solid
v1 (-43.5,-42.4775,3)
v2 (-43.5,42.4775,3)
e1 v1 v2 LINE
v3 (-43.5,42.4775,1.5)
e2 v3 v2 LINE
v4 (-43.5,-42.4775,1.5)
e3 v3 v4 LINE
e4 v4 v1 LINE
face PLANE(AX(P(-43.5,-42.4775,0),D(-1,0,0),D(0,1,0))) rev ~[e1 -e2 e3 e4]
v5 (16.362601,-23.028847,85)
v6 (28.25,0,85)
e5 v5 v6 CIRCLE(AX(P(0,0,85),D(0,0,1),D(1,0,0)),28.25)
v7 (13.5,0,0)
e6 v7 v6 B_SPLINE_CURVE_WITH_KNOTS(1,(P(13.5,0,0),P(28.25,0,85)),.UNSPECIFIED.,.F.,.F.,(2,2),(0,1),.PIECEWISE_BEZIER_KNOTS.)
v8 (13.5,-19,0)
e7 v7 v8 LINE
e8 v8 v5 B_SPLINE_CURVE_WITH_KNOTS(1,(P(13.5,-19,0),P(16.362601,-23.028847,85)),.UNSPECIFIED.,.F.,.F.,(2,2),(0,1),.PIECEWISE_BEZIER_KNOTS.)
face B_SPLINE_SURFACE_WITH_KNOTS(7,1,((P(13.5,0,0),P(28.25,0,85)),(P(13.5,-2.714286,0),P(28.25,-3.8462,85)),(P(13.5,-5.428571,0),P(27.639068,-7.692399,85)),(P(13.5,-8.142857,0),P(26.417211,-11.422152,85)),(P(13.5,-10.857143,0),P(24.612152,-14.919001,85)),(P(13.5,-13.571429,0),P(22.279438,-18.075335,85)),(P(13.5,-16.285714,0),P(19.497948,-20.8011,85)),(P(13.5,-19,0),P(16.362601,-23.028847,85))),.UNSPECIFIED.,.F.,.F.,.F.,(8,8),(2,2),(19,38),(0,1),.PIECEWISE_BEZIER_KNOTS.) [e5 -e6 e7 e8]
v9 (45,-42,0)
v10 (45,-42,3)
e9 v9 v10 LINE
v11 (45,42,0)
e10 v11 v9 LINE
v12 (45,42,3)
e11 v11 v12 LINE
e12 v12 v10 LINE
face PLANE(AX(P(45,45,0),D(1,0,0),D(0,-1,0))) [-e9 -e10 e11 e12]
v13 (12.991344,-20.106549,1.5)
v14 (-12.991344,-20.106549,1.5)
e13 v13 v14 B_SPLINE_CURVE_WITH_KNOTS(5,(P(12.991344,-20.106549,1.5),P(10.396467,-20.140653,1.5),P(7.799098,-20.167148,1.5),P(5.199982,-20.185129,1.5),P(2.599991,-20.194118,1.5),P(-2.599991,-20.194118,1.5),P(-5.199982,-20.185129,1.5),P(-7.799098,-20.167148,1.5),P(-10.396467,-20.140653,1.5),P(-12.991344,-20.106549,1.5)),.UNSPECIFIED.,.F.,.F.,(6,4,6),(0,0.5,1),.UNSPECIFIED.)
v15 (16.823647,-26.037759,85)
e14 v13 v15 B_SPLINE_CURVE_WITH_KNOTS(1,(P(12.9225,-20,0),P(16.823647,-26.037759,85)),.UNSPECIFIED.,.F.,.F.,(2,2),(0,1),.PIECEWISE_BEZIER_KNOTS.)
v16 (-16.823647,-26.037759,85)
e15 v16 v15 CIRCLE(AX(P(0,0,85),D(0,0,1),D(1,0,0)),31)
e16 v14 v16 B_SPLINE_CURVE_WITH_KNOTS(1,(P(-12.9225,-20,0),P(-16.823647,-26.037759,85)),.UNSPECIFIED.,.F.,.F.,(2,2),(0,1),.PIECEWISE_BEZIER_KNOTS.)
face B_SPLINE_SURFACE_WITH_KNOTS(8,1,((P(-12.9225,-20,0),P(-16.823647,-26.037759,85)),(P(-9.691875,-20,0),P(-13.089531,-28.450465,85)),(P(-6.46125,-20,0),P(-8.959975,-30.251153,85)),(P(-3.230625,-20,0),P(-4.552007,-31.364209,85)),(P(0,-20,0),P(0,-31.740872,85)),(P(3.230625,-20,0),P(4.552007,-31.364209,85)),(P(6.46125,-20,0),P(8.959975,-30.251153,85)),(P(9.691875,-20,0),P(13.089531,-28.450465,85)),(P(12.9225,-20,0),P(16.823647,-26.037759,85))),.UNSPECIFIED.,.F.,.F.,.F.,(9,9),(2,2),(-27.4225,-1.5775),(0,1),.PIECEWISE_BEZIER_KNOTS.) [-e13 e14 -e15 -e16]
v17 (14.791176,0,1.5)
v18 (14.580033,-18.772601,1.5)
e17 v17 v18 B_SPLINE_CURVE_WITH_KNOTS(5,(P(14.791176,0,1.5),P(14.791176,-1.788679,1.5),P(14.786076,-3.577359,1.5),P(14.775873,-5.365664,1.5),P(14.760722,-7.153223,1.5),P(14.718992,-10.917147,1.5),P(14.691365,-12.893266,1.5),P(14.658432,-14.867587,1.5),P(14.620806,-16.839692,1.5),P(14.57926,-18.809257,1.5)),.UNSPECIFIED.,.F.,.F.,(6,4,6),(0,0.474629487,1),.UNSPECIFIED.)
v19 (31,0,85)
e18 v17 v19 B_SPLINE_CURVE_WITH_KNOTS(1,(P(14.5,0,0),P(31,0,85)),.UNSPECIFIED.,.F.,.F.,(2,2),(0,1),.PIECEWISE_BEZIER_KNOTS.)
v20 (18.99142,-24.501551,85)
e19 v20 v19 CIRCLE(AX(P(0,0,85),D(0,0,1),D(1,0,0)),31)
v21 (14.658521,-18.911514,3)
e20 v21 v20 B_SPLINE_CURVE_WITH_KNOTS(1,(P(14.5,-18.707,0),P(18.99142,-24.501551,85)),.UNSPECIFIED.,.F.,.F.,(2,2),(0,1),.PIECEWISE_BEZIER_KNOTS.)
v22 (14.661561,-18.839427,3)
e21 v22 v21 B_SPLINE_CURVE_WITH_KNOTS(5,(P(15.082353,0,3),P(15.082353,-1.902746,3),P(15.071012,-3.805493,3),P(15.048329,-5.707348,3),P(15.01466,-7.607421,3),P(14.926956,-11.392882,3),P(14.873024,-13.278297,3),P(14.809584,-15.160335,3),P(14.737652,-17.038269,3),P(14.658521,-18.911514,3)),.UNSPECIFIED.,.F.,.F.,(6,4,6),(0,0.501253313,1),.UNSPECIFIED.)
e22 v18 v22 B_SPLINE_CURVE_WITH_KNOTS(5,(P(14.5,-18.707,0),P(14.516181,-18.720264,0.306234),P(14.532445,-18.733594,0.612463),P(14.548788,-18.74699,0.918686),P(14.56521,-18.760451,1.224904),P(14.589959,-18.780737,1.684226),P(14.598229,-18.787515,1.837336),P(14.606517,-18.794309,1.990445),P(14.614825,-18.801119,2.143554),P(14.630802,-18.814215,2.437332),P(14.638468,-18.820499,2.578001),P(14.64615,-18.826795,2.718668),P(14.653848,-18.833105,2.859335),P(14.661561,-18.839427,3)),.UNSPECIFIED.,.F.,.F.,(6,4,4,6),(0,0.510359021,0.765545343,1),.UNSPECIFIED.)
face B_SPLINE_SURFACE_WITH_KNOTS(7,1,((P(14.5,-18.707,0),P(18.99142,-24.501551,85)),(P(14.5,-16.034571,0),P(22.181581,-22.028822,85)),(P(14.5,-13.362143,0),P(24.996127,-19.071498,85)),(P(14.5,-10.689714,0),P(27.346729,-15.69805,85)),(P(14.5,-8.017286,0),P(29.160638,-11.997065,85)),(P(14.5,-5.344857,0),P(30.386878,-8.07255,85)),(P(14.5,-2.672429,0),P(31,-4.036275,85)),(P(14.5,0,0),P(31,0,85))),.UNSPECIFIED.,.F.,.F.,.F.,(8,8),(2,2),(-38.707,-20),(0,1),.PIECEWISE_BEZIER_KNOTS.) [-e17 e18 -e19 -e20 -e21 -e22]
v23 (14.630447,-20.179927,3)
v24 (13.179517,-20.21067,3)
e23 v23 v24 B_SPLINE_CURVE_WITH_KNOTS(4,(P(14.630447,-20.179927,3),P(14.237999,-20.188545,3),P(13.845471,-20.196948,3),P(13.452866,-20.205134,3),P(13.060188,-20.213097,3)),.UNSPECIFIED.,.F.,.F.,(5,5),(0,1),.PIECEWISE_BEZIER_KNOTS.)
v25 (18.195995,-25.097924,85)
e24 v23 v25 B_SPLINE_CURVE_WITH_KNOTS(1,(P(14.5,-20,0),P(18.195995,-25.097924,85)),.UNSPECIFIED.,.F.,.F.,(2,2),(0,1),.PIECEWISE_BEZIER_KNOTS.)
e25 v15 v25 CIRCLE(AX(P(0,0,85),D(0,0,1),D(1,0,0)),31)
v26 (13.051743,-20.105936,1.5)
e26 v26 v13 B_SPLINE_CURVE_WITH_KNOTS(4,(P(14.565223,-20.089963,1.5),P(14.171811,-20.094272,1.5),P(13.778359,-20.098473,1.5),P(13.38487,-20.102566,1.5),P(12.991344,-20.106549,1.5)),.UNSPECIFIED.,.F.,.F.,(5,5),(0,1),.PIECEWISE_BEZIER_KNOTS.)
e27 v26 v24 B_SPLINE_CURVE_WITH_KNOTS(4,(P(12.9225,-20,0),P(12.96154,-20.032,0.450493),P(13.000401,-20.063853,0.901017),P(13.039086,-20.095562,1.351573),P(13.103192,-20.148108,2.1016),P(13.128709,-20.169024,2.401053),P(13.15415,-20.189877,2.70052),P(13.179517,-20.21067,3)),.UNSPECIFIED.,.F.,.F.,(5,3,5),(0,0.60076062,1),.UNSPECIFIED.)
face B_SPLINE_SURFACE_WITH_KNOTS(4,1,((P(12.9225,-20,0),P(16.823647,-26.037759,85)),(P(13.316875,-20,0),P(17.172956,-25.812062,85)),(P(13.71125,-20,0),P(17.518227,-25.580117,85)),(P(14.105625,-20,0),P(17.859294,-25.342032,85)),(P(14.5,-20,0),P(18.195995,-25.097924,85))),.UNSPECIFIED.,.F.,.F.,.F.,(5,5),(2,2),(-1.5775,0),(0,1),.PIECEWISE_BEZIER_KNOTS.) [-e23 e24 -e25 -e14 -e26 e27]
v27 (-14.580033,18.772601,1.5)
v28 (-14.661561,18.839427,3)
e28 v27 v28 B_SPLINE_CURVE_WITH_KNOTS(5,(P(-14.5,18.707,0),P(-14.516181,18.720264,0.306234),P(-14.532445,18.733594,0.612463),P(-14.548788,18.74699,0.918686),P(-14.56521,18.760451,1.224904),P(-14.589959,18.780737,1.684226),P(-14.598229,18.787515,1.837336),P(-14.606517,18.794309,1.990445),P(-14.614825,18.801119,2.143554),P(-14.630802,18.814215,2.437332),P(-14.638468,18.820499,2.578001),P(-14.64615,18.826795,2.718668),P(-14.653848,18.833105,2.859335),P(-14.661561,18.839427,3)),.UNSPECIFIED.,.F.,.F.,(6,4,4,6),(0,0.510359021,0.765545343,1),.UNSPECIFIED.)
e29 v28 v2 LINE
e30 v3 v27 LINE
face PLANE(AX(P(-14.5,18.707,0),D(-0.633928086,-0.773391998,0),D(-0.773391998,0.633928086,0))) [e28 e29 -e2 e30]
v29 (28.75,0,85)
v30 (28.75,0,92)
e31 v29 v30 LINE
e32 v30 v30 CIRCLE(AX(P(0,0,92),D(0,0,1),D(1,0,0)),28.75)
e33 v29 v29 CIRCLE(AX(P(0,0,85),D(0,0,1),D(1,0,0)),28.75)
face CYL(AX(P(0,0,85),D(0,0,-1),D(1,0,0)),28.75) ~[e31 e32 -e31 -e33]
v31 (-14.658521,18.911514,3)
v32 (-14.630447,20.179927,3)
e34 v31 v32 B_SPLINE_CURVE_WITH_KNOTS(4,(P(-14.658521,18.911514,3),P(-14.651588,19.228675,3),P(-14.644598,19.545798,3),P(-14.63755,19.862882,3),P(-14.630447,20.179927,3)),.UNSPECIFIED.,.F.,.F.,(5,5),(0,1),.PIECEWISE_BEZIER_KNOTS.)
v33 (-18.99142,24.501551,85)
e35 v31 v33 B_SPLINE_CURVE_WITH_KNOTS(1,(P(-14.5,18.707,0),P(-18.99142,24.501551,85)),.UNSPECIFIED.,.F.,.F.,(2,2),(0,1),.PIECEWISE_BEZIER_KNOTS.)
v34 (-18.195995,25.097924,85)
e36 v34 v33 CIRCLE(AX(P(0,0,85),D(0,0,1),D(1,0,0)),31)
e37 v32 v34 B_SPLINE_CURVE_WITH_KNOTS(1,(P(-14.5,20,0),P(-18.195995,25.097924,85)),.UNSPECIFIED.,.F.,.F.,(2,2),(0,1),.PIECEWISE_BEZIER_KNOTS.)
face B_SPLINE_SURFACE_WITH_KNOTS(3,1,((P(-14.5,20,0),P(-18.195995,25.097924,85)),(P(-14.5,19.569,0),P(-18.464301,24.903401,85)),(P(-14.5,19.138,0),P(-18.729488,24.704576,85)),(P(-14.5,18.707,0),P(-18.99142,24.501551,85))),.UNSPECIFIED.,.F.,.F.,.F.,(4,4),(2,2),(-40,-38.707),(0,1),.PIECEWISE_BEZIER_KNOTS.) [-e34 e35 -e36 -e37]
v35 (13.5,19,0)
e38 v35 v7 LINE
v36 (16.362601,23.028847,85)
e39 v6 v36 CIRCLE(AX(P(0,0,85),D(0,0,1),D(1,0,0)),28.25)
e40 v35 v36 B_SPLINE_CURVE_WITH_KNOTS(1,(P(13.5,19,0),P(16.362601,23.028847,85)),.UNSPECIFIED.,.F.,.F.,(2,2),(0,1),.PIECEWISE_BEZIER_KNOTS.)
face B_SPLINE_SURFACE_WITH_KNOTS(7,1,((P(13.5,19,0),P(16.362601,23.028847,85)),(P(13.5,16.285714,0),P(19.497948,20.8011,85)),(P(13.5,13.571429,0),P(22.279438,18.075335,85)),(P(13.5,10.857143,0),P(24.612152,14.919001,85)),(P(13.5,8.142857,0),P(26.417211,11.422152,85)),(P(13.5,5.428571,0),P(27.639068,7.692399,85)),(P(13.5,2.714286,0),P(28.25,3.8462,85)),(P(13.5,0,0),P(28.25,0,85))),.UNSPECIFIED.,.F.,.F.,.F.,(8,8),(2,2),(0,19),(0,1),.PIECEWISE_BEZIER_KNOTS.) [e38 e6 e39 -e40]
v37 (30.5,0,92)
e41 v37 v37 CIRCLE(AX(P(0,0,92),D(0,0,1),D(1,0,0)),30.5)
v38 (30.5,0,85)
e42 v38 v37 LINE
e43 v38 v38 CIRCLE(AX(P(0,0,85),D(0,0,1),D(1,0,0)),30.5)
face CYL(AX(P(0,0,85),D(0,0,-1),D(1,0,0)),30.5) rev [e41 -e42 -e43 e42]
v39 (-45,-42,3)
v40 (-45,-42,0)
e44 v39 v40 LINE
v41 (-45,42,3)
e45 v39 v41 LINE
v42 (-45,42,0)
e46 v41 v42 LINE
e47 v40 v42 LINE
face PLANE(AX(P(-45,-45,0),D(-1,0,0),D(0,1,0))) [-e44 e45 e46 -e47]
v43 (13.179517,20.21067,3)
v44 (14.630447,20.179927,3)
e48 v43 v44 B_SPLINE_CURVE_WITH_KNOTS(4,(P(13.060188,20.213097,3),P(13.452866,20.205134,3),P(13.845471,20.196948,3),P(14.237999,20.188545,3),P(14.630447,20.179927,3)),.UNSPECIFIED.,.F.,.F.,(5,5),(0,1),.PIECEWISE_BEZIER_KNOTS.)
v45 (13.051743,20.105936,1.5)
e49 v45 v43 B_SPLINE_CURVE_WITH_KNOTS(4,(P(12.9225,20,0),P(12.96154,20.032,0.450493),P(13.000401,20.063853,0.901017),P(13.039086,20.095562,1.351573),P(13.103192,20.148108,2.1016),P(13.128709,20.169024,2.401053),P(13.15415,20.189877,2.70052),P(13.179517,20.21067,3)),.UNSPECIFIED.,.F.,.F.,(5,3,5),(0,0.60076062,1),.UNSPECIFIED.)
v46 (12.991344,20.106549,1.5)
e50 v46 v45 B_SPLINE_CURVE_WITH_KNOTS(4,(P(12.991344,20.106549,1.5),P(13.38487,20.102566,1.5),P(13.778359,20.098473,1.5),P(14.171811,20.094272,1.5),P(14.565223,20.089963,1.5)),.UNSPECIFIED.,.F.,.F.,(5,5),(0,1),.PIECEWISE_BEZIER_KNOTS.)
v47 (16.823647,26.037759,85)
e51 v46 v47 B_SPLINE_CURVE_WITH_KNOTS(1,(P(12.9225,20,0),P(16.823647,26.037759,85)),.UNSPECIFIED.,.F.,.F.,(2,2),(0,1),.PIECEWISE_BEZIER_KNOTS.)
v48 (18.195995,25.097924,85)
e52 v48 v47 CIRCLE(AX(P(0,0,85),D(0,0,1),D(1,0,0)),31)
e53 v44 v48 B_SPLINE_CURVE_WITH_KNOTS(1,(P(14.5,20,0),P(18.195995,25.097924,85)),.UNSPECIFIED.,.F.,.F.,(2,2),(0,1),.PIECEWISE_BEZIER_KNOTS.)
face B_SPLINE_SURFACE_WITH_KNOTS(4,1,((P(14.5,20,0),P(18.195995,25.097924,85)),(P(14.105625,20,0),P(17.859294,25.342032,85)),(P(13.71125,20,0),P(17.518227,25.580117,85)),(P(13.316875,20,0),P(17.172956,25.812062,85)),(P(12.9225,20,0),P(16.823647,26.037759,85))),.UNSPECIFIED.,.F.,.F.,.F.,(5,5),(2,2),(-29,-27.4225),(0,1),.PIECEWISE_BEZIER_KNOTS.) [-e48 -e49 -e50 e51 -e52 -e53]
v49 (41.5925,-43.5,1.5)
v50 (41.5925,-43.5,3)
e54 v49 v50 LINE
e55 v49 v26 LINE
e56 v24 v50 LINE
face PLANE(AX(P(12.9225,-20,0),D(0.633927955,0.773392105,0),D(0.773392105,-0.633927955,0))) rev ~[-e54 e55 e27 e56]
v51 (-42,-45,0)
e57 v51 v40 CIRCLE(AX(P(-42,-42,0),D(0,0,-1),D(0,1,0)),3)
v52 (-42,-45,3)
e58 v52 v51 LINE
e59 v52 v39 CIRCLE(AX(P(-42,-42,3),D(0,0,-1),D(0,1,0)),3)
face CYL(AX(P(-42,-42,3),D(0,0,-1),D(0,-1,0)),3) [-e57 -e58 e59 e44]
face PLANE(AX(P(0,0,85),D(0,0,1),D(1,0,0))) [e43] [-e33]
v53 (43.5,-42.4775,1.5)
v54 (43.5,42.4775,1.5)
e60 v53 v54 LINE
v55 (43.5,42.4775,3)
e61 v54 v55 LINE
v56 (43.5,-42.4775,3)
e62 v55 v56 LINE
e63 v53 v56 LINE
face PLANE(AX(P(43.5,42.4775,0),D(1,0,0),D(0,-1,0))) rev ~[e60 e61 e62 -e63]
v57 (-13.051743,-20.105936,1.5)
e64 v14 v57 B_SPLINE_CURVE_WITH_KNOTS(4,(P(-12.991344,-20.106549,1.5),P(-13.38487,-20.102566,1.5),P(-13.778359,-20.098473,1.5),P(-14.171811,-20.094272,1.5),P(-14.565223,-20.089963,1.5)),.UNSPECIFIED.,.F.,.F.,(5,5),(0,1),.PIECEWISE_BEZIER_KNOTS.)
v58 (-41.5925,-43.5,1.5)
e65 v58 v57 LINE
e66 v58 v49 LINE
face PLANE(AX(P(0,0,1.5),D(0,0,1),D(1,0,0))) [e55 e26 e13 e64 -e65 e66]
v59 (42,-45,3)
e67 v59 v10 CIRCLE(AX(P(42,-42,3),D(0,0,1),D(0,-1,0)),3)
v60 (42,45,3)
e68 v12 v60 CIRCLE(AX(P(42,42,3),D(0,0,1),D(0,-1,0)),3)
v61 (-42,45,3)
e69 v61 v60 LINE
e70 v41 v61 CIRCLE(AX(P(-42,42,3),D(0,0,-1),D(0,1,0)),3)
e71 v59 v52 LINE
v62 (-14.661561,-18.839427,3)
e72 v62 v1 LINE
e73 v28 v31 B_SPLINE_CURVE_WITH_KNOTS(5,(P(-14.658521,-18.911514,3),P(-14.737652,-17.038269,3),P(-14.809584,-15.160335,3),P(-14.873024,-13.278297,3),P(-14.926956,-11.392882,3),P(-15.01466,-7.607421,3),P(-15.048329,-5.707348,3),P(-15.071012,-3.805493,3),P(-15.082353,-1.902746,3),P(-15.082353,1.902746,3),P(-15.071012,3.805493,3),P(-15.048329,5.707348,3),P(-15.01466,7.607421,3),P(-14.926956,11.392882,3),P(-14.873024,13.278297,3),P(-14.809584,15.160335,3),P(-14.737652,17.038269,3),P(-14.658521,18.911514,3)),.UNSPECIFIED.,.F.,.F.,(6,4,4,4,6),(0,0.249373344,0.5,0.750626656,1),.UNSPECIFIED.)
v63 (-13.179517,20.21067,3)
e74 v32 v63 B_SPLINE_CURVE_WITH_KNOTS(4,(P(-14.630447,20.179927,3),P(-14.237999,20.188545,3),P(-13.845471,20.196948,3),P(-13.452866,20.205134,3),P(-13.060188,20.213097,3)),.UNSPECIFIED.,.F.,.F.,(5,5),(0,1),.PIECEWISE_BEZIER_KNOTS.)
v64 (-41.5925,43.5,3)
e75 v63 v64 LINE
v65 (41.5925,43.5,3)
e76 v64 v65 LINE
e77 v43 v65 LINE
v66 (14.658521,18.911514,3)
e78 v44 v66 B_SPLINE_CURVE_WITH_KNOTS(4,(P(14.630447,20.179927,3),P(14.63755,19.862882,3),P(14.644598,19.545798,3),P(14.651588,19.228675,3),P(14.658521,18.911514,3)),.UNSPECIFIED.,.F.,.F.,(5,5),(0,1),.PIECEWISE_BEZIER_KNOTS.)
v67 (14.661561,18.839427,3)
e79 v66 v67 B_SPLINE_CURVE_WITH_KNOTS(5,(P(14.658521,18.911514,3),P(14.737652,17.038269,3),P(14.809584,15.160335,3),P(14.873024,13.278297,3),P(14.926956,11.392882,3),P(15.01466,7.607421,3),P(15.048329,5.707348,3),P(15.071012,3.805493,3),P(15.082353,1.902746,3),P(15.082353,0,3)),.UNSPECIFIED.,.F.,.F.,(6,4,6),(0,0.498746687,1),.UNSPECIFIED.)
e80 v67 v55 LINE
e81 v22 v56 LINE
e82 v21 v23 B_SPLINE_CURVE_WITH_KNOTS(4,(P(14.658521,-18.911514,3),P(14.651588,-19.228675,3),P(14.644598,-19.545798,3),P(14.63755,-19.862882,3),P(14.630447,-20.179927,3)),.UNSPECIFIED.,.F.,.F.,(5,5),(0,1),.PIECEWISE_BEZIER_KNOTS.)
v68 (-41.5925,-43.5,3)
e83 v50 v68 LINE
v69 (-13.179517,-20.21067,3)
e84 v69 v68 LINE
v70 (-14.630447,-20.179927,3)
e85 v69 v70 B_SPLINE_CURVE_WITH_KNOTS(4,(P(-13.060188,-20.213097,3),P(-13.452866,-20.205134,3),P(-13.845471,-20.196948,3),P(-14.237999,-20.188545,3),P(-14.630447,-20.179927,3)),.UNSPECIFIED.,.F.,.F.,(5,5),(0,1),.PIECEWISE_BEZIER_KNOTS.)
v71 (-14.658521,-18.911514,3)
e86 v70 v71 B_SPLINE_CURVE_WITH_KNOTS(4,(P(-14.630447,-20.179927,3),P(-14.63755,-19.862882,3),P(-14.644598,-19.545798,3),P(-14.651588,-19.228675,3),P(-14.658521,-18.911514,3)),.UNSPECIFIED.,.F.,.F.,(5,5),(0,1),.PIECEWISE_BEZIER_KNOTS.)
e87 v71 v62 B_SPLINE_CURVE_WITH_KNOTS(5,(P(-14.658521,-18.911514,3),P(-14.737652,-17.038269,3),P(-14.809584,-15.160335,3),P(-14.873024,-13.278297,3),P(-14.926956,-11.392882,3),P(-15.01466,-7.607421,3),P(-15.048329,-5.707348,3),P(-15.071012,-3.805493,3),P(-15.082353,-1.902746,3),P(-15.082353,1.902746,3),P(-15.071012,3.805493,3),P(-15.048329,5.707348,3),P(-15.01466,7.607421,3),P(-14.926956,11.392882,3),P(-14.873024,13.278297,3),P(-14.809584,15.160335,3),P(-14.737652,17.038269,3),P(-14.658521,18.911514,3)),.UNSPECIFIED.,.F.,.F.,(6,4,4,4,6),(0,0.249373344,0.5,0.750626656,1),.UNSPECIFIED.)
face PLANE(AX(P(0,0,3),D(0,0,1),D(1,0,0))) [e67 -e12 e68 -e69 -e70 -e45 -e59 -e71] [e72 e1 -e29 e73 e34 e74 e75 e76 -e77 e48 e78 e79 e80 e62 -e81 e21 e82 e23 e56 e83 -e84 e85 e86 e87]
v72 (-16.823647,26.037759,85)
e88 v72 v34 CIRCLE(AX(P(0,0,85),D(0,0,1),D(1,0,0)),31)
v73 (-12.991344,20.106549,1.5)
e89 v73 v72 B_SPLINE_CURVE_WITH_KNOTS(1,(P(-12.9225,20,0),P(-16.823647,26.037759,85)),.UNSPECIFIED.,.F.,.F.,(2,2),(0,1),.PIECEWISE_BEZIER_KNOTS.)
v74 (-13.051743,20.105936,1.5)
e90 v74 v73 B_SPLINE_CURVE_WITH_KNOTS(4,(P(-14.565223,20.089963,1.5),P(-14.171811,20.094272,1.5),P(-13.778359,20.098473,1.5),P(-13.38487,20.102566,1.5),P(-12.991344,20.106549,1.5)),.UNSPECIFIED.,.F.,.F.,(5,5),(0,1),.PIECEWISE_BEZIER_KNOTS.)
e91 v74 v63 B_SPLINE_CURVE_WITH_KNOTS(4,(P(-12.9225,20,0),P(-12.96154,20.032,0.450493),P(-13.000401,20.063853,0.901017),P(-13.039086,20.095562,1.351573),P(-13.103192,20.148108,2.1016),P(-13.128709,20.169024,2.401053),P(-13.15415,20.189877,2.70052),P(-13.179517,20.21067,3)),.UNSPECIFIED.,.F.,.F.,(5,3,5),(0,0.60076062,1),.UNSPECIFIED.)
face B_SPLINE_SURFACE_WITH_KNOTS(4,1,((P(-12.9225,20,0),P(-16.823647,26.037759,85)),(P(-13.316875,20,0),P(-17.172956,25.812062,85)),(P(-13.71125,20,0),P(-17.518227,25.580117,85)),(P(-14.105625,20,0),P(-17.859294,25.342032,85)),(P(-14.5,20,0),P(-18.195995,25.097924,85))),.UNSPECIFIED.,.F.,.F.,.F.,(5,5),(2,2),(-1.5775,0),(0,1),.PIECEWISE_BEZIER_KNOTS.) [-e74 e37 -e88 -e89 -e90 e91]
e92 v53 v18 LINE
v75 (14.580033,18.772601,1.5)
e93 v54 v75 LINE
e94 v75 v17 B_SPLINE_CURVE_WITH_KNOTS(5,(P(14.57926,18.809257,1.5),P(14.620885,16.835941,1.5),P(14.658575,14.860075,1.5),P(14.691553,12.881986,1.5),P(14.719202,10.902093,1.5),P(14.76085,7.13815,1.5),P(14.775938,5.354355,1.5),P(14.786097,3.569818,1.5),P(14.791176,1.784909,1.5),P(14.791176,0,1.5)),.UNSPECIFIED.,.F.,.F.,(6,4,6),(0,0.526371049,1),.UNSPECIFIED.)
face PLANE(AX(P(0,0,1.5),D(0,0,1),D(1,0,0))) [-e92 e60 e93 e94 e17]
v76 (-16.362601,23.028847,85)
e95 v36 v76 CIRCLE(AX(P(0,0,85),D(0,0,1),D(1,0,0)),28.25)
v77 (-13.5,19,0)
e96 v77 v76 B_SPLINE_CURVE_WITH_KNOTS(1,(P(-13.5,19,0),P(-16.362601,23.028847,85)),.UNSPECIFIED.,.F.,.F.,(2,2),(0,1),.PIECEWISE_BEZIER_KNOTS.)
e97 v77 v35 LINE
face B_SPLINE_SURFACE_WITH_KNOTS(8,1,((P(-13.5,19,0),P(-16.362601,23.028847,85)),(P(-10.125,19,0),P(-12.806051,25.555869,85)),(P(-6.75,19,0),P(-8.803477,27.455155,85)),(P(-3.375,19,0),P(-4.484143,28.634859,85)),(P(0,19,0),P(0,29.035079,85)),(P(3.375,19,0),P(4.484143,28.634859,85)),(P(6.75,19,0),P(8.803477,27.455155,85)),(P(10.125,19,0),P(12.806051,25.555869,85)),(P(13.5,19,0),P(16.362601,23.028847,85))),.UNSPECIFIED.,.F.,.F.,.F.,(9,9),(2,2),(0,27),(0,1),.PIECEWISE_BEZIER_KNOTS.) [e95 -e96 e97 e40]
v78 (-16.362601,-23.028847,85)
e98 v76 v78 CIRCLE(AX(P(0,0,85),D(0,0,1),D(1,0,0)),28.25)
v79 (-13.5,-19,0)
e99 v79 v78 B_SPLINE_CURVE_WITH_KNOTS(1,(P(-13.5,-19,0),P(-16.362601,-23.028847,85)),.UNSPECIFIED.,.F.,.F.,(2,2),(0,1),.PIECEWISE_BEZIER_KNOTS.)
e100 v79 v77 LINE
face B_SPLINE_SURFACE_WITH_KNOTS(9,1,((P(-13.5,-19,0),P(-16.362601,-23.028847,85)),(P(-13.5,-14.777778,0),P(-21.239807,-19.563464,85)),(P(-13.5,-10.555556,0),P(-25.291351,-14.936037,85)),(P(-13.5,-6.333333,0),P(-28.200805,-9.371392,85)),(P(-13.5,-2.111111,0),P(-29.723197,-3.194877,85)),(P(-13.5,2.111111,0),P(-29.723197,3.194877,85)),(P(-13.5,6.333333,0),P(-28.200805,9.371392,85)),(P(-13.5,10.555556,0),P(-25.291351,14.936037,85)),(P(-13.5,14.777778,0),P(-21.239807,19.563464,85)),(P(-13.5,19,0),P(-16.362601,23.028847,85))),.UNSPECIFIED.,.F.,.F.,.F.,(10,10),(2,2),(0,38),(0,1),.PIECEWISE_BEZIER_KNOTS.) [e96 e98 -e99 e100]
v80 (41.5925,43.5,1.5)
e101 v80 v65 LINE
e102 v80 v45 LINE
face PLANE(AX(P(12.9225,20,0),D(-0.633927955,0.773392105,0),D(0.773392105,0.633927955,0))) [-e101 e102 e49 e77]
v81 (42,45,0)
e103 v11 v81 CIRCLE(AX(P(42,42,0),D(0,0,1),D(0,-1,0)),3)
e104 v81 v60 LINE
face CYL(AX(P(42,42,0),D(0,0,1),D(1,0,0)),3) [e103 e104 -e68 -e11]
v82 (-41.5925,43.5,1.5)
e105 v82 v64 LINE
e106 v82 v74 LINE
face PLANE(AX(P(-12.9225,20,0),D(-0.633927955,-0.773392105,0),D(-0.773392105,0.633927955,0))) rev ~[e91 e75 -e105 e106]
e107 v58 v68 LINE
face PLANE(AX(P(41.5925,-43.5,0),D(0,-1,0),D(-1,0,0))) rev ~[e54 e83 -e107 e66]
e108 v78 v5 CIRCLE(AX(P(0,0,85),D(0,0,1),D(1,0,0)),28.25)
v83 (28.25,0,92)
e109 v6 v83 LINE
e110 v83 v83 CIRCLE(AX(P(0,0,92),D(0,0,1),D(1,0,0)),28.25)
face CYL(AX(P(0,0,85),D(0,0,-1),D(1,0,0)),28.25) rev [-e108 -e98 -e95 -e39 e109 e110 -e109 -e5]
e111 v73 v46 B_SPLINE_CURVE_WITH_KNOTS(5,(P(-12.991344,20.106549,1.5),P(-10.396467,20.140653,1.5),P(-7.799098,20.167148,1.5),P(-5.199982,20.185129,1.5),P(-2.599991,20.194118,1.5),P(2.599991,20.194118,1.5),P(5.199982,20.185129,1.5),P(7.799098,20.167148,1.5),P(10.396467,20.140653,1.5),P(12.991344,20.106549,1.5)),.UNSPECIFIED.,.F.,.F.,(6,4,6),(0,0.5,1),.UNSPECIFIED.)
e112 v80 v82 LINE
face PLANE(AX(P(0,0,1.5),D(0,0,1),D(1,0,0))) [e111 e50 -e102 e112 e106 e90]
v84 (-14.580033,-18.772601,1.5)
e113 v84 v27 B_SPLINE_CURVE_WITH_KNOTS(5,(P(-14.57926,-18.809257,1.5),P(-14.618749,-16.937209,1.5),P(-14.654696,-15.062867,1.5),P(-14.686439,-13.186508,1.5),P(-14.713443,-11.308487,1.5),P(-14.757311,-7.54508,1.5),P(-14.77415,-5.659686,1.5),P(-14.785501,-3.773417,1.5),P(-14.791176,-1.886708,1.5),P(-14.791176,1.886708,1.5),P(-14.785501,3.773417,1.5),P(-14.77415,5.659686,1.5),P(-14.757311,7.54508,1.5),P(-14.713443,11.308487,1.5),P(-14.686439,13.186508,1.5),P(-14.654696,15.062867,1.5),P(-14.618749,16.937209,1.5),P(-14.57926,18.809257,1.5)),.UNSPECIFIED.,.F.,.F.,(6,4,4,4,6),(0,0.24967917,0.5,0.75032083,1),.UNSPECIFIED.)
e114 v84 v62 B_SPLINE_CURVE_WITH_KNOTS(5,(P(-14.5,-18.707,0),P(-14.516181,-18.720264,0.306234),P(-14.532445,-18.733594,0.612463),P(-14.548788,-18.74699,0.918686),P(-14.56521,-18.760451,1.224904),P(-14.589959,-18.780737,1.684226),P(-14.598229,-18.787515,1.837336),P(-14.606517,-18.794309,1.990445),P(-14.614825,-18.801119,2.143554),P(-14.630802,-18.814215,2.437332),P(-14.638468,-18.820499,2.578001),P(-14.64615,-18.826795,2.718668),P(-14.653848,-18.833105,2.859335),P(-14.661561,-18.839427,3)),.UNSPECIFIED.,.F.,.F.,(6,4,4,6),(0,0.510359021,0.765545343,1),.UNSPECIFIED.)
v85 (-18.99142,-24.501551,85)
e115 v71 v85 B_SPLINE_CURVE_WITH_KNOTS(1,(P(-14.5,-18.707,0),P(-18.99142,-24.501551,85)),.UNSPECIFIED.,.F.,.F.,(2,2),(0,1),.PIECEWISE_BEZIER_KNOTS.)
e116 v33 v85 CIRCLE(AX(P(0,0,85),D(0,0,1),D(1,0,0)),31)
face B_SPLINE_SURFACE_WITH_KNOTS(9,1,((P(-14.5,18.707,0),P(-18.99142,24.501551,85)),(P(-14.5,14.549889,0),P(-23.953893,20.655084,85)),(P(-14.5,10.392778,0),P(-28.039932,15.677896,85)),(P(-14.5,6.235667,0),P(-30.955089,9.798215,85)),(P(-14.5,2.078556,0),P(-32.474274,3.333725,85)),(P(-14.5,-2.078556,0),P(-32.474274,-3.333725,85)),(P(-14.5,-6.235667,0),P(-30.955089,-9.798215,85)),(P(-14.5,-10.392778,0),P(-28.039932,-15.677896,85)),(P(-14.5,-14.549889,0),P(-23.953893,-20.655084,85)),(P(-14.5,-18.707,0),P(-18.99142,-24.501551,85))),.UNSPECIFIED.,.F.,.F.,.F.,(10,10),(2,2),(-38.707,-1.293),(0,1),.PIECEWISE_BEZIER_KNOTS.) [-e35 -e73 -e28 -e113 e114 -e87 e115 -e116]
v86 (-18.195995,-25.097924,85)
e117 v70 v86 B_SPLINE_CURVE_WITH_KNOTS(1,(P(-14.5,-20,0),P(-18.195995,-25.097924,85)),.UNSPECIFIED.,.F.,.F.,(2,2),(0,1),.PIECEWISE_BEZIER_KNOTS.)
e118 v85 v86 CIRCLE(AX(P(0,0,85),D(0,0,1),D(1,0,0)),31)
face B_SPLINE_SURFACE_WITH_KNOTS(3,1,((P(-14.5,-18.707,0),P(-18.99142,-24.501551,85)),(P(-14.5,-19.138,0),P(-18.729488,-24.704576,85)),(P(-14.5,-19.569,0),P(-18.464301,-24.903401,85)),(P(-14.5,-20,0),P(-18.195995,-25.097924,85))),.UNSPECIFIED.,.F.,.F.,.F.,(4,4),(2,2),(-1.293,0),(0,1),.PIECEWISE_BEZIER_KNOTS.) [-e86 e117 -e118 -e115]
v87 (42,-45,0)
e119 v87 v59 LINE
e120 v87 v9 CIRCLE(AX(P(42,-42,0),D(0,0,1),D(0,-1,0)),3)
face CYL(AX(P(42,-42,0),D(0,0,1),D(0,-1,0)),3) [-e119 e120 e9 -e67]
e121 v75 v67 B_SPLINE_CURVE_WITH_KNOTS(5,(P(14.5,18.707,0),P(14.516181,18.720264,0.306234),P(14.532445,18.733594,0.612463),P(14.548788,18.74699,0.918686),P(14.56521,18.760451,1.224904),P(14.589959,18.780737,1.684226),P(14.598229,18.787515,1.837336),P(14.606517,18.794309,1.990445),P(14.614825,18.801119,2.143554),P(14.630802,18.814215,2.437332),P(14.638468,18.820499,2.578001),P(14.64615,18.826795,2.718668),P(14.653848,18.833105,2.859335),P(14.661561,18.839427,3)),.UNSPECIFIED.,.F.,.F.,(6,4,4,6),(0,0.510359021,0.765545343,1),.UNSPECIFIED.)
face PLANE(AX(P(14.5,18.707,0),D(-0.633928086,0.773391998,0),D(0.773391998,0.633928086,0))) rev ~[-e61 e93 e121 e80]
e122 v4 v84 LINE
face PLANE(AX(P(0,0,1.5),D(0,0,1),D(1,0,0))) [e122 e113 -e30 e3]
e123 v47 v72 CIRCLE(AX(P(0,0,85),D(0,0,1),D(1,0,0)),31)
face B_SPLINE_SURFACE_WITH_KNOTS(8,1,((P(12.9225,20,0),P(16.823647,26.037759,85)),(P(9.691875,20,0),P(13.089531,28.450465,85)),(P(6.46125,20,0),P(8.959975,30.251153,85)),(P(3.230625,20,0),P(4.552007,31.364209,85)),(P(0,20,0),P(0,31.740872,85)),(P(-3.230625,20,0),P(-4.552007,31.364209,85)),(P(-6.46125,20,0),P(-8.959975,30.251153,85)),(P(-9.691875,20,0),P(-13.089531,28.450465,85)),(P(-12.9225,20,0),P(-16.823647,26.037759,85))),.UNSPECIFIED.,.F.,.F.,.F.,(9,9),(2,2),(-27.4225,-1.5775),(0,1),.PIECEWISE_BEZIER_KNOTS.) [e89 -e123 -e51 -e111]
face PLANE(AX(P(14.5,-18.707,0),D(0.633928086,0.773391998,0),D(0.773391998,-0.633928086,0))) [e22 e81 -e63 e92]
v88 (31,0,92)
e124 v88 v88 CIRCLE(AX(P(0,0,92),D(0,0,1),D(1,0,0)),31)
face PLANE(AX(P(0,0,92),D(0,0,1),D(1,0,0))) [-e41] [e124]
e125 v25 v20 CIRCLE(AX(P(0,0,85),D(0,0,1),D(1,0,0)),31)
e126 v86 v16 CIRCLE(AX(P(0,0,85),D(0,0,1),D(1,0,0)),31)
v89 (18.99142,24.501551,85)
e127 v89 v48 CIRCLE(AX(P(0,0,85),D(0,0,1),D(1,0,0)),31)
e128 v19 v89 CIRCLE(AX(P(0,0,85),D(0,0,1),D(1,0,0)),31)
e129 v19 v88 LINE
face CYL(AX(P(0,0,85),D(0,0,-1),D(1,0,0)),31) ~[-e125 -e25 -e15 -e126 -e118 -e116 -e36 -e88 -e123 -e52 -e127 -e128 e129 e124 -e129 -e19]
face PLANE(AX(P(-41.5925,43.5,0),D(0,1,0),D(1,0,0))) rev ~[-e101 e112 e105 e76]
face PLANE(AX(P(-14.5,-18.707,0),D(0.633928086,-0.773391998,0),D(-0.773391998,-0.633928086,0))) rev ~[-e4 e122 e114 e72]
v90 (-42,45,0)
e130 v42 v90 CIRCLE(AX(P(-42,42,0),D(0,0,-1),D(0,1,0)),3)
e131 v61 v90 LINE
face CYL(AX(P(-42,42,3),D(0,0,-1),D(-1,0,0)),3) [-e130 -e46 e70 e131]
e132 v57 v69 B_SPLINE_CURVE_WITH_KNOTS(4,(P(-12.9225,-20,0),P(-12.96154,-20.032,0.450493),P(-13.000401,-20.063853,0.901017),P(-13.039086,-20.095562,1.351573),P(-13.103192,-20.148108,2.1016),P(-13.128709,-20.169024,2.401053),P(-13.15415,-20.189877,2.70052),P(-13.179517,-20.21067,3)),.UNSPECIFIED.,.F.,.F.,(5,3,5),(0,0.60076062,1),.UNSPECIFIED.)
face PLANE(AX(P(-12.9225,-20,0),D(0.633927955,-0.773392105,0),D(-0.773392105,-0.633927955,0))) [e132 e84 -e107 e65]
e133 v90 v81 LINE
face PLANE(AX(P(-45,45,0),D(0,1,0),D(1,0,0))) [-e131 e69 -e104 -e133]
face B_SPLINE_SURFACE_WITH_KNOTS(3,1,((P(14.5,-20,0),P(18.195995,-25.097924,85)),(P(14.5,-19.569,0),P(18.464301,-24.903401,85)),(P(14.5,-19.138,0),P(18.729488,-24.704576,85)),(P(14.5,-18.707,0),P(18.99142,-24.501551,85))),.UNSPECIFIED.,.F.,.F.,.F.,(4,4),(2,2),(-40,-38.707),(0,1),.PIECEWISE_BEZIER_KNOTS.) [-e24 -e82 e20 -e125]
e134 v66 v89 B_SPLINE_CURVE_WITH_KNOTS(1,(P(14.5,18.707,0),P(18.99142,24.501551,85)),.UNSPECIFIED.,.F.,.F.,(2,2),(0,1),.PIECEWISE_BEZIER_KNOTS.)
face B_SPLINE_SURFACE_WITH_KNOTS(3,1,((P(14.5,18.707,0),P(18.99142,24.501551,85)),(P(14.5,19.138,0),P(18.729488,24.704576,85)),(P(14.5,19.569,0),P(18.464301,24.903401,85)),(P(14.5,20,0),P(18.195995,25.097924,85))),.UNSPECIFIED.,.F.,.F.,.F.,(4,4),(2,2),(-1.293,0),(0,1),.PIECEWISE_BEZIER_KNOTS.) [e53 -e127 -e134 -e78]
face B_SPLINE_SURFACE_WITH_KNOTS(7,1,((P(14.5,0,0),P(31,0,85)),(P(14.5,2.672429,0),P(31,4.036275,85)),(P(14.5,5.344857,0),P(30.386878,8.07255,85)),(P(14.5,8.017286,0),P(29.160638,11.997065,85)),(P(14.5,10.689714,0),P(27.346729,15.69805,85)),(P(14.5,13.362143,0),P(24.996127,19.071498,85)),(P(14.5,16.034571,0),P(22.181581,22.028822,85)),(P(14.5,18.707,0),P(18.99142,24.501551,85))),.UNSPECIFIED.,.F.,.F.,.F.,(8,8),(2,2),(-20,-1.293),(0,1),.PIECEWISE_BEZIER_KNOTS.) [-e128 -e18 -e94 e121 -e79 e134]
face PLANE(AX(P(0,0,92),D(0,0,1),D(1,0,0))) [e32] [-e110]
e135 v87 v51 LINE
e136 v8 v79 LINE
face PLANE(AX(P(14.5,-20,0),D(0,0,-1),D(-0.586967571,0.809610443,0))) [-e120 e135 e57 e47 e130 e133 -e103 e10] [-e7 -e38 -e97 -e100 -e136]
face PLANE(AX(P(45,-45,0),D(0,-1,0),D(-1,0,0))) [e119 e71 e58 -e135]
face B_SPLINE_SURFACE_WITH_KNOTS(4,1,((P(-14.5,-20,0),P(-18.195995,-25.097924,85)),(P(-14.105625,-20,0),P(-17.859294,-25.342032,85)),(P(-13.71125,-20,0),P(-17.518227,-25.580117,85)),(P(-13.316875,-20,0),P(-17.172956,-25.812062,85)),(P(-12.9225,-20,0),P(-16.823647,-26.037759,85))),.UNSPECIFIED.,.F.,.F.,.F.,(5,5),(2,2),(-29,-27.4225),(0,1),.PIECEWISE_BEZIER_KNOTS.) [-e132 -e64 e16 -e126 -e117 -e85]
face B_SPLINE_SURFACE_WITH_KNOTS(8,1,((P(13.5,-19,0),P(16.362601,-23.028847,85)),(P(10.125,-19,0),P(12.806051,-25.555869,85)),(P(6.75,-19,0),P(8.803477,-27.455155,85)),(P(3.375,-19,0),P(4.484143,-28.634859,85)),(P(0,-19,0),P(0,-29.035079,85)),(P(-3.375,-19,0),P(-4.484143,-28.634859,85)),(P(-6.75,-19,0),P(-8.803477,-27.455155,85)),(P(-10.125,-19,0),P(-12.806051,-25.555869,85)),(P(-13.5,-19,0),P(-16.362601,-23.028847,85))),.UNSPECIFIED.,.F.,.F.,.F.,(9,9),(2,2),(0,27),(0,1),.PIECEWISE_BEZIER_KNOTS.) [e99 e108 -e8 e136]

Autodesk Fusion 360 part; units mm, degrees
sketch "Sketch1" plane through (0, 0, 0) normal (0, 0, 1) x (1, 0, 0)
  line L0 (-13.5, 19) -> (13.5, 19)
  line L1 (13.5, 19) -> (13.5, -19)
  line L2 (13.5, -19) -> (-13.5, -19)
  line L3 (-13.5, -19) -> (-13.5, 19)
  line L4 (-13.5, 19) -> (13.5, -19) construction
  line L5 (14.5, -20) -> (-14.5, -20)
  line L6 (-14.5, -20) -> (-14.5, 20)
  line L7 (-14.5, 20) -> (14.5, 20)
  line L8 (14.5, 20) -> (14.5, -20)
  line L9 (-45, 45) -> (45, 45)
  line L10 (45, 45) -> (45, -45)
  line L11 (45, -45) -> (-45, -45)
  line L12 (-45, -45) -> (-45, 45)
  line L13 (-45, 45) -> (45, -45) construction
  line L14 (-14.5, -20) -> (-45, -45)
  line L15 (-14.5, 20) -> (-45, 45)
  line L16 (14.5, 20) -> (45, 45)
  line L17 (14.5, -20) -> (45, -45)
  line L18 (-43.5, 43.5) -> (43.5, 43.5)
  line L19 (43.5, 43.5) -> (43.5, -43.5)
  line L20 (43.5, -43.5) -> (-43.5, -43.5)
  line L21 (-43.5, -43.5) -> (-43.5, 43.5)
  line L22 (-12.9225, 20) -> (-41.5925, 43.5)
  line L23 (-14.5, 18.707) -> (-43.5, 42.4775)
  line L24 (14.5, 18.707) -> (43.5, 42.4775)
  line L25 (12.9225, 20) -> (41.5925, 43.5)
  line L26 (12.9225, -20) -> (41.5925, -43.5)
  line L27 (14.5, -18.707) -> (43.5, -42.4775)
  line L28 (-14.5, -18.707) -> (-43.5, -42.4775)
  line L29 (-12.9225, -20) -> (-41.5925, -43.5)
  dimension "d5" = 27
  dimension "d6" = 38
  dimension "d15" = 90
  dimension "d16" = 90
  dimension "d44" = 1.5
ref_plane "WorkPlane1" through (0, 0, 85) normal (0, 0, 1) x (1, 0, 0)
sketch "Sketch2" plane through (0, 0, 85) normal (0, 0, 1) x (1, 0, 0)
  circle A0 centre (0, 0) radius 28.75
  circle A1 centre (0, 0) radius 30.5
  circle A2 centre (0, 0) radius 28.25
  circle A3 centre (0, 0) radius 31
  dimension "d10" = 57.5
  dimension "d11" = 61
  dimension "d13" = -0.5
  dimension "d14" = 0.5
loft "Loft3" add profiles "Sketch1", "Sketch2" section 1 contours L5 L6 L7 L8 section 2 contours A0 | A1 | A3 makes body 1
loft "Loft4" cut profiles "Sketch2", "Sketch1" section 1 contours A2 section 2 contours L0 L1 L2 L3 bodies 1
extrude "Extrude3" add sketch "Sketch1" along normal blind 1.5 separate body contours L5 L17 L20 L26 | L8 L17 L19 L20 L27 | L5 L20 L26 L29 | L8 L19 L24 L27 | L10 L16 L17 L18 L19 L20 | L11 L14 L17 L20 | L5 L14 L20 L29 | L8 L16 L18 L19 L24 | L6 L14 L20 L21 L28 | L7 L16 L18 L25 | L9 L15 L16 L18 | L12 L14 L15 L18 L20 L21 | L6 L21 L23 L28 | L7 L18 L22 L25 | L6 L15 L18 L21 L23 | L7 L15 L18 L22 makes body 2
extrude "Extrude4" add sketch "Sketch2" along normal blind 7 bodies 1
extrude "Extrude7" add sketch "Sketch1" along normal blind 3 contours L5 L17 L20 L26 | L8 L17 L19 L20 L27 | L10 L16 L17 L18 L19 L20 | L11 L14 L17 L20 | L5 L14 L20 L29 | L8 L16 L18 L19 L24 | L6 L14 L20 L21 L28 | L7 L16 L18 L25 | L9 L15 L16 L18 | L12 L14 L15 L18 L20 L21 | L6 L15 L18 L21 L23 | L7 L15 L18 L22 bodies 1 2
fillet "Fillet1" radius 3 4 edges at (45, -45, 1.5) (-45, -45, 1.5) (-45, 45, 1.5) (45, 45, 1.5) on bodies 1
equation "aparture_x = 27 mm"
equation "aparture_y = 38 mm"
equation "tube_height = 85 mm"
equation "wall_thickness = 1 mm"
equation "d5 = aparture_x"
equation "d6 = aparture_y"
equation "d7 = tube_height"
equation "hood_inner_dia = 57.5 mm"
equation "hood_outer_dia = 61 mm"
equation "d10 = hood_inner_dia"
equation "d11 = hood_outer_dia"
equation "d13 = -wall_thickness / 2"
equation "d14 = wall_thickness / 2"
equation "d15 = raft_y"
equation "d16 = raft_x"
equation "base_height = 1.5 mm"
equation "d22 = base_height"
equation "hood_lip_height = 7 mm"
equation "d25 = hood_lip_height"
equation "raft_x = 90 mm"
equation "raft_y = raft_x"
equation "rib_width = 1.5 mm"
equation "d44 = rib_width"
equation "rib_height = 1.5 mm"
equation "d54 = base_height + rib_height"
equation "round_corner_radius = 3 mm"
equation "d58 = round_corner_radius"
equation "tube_base_fillet_radius = 2 mm"
equation "d61 = tube_base_fillet_radius"
